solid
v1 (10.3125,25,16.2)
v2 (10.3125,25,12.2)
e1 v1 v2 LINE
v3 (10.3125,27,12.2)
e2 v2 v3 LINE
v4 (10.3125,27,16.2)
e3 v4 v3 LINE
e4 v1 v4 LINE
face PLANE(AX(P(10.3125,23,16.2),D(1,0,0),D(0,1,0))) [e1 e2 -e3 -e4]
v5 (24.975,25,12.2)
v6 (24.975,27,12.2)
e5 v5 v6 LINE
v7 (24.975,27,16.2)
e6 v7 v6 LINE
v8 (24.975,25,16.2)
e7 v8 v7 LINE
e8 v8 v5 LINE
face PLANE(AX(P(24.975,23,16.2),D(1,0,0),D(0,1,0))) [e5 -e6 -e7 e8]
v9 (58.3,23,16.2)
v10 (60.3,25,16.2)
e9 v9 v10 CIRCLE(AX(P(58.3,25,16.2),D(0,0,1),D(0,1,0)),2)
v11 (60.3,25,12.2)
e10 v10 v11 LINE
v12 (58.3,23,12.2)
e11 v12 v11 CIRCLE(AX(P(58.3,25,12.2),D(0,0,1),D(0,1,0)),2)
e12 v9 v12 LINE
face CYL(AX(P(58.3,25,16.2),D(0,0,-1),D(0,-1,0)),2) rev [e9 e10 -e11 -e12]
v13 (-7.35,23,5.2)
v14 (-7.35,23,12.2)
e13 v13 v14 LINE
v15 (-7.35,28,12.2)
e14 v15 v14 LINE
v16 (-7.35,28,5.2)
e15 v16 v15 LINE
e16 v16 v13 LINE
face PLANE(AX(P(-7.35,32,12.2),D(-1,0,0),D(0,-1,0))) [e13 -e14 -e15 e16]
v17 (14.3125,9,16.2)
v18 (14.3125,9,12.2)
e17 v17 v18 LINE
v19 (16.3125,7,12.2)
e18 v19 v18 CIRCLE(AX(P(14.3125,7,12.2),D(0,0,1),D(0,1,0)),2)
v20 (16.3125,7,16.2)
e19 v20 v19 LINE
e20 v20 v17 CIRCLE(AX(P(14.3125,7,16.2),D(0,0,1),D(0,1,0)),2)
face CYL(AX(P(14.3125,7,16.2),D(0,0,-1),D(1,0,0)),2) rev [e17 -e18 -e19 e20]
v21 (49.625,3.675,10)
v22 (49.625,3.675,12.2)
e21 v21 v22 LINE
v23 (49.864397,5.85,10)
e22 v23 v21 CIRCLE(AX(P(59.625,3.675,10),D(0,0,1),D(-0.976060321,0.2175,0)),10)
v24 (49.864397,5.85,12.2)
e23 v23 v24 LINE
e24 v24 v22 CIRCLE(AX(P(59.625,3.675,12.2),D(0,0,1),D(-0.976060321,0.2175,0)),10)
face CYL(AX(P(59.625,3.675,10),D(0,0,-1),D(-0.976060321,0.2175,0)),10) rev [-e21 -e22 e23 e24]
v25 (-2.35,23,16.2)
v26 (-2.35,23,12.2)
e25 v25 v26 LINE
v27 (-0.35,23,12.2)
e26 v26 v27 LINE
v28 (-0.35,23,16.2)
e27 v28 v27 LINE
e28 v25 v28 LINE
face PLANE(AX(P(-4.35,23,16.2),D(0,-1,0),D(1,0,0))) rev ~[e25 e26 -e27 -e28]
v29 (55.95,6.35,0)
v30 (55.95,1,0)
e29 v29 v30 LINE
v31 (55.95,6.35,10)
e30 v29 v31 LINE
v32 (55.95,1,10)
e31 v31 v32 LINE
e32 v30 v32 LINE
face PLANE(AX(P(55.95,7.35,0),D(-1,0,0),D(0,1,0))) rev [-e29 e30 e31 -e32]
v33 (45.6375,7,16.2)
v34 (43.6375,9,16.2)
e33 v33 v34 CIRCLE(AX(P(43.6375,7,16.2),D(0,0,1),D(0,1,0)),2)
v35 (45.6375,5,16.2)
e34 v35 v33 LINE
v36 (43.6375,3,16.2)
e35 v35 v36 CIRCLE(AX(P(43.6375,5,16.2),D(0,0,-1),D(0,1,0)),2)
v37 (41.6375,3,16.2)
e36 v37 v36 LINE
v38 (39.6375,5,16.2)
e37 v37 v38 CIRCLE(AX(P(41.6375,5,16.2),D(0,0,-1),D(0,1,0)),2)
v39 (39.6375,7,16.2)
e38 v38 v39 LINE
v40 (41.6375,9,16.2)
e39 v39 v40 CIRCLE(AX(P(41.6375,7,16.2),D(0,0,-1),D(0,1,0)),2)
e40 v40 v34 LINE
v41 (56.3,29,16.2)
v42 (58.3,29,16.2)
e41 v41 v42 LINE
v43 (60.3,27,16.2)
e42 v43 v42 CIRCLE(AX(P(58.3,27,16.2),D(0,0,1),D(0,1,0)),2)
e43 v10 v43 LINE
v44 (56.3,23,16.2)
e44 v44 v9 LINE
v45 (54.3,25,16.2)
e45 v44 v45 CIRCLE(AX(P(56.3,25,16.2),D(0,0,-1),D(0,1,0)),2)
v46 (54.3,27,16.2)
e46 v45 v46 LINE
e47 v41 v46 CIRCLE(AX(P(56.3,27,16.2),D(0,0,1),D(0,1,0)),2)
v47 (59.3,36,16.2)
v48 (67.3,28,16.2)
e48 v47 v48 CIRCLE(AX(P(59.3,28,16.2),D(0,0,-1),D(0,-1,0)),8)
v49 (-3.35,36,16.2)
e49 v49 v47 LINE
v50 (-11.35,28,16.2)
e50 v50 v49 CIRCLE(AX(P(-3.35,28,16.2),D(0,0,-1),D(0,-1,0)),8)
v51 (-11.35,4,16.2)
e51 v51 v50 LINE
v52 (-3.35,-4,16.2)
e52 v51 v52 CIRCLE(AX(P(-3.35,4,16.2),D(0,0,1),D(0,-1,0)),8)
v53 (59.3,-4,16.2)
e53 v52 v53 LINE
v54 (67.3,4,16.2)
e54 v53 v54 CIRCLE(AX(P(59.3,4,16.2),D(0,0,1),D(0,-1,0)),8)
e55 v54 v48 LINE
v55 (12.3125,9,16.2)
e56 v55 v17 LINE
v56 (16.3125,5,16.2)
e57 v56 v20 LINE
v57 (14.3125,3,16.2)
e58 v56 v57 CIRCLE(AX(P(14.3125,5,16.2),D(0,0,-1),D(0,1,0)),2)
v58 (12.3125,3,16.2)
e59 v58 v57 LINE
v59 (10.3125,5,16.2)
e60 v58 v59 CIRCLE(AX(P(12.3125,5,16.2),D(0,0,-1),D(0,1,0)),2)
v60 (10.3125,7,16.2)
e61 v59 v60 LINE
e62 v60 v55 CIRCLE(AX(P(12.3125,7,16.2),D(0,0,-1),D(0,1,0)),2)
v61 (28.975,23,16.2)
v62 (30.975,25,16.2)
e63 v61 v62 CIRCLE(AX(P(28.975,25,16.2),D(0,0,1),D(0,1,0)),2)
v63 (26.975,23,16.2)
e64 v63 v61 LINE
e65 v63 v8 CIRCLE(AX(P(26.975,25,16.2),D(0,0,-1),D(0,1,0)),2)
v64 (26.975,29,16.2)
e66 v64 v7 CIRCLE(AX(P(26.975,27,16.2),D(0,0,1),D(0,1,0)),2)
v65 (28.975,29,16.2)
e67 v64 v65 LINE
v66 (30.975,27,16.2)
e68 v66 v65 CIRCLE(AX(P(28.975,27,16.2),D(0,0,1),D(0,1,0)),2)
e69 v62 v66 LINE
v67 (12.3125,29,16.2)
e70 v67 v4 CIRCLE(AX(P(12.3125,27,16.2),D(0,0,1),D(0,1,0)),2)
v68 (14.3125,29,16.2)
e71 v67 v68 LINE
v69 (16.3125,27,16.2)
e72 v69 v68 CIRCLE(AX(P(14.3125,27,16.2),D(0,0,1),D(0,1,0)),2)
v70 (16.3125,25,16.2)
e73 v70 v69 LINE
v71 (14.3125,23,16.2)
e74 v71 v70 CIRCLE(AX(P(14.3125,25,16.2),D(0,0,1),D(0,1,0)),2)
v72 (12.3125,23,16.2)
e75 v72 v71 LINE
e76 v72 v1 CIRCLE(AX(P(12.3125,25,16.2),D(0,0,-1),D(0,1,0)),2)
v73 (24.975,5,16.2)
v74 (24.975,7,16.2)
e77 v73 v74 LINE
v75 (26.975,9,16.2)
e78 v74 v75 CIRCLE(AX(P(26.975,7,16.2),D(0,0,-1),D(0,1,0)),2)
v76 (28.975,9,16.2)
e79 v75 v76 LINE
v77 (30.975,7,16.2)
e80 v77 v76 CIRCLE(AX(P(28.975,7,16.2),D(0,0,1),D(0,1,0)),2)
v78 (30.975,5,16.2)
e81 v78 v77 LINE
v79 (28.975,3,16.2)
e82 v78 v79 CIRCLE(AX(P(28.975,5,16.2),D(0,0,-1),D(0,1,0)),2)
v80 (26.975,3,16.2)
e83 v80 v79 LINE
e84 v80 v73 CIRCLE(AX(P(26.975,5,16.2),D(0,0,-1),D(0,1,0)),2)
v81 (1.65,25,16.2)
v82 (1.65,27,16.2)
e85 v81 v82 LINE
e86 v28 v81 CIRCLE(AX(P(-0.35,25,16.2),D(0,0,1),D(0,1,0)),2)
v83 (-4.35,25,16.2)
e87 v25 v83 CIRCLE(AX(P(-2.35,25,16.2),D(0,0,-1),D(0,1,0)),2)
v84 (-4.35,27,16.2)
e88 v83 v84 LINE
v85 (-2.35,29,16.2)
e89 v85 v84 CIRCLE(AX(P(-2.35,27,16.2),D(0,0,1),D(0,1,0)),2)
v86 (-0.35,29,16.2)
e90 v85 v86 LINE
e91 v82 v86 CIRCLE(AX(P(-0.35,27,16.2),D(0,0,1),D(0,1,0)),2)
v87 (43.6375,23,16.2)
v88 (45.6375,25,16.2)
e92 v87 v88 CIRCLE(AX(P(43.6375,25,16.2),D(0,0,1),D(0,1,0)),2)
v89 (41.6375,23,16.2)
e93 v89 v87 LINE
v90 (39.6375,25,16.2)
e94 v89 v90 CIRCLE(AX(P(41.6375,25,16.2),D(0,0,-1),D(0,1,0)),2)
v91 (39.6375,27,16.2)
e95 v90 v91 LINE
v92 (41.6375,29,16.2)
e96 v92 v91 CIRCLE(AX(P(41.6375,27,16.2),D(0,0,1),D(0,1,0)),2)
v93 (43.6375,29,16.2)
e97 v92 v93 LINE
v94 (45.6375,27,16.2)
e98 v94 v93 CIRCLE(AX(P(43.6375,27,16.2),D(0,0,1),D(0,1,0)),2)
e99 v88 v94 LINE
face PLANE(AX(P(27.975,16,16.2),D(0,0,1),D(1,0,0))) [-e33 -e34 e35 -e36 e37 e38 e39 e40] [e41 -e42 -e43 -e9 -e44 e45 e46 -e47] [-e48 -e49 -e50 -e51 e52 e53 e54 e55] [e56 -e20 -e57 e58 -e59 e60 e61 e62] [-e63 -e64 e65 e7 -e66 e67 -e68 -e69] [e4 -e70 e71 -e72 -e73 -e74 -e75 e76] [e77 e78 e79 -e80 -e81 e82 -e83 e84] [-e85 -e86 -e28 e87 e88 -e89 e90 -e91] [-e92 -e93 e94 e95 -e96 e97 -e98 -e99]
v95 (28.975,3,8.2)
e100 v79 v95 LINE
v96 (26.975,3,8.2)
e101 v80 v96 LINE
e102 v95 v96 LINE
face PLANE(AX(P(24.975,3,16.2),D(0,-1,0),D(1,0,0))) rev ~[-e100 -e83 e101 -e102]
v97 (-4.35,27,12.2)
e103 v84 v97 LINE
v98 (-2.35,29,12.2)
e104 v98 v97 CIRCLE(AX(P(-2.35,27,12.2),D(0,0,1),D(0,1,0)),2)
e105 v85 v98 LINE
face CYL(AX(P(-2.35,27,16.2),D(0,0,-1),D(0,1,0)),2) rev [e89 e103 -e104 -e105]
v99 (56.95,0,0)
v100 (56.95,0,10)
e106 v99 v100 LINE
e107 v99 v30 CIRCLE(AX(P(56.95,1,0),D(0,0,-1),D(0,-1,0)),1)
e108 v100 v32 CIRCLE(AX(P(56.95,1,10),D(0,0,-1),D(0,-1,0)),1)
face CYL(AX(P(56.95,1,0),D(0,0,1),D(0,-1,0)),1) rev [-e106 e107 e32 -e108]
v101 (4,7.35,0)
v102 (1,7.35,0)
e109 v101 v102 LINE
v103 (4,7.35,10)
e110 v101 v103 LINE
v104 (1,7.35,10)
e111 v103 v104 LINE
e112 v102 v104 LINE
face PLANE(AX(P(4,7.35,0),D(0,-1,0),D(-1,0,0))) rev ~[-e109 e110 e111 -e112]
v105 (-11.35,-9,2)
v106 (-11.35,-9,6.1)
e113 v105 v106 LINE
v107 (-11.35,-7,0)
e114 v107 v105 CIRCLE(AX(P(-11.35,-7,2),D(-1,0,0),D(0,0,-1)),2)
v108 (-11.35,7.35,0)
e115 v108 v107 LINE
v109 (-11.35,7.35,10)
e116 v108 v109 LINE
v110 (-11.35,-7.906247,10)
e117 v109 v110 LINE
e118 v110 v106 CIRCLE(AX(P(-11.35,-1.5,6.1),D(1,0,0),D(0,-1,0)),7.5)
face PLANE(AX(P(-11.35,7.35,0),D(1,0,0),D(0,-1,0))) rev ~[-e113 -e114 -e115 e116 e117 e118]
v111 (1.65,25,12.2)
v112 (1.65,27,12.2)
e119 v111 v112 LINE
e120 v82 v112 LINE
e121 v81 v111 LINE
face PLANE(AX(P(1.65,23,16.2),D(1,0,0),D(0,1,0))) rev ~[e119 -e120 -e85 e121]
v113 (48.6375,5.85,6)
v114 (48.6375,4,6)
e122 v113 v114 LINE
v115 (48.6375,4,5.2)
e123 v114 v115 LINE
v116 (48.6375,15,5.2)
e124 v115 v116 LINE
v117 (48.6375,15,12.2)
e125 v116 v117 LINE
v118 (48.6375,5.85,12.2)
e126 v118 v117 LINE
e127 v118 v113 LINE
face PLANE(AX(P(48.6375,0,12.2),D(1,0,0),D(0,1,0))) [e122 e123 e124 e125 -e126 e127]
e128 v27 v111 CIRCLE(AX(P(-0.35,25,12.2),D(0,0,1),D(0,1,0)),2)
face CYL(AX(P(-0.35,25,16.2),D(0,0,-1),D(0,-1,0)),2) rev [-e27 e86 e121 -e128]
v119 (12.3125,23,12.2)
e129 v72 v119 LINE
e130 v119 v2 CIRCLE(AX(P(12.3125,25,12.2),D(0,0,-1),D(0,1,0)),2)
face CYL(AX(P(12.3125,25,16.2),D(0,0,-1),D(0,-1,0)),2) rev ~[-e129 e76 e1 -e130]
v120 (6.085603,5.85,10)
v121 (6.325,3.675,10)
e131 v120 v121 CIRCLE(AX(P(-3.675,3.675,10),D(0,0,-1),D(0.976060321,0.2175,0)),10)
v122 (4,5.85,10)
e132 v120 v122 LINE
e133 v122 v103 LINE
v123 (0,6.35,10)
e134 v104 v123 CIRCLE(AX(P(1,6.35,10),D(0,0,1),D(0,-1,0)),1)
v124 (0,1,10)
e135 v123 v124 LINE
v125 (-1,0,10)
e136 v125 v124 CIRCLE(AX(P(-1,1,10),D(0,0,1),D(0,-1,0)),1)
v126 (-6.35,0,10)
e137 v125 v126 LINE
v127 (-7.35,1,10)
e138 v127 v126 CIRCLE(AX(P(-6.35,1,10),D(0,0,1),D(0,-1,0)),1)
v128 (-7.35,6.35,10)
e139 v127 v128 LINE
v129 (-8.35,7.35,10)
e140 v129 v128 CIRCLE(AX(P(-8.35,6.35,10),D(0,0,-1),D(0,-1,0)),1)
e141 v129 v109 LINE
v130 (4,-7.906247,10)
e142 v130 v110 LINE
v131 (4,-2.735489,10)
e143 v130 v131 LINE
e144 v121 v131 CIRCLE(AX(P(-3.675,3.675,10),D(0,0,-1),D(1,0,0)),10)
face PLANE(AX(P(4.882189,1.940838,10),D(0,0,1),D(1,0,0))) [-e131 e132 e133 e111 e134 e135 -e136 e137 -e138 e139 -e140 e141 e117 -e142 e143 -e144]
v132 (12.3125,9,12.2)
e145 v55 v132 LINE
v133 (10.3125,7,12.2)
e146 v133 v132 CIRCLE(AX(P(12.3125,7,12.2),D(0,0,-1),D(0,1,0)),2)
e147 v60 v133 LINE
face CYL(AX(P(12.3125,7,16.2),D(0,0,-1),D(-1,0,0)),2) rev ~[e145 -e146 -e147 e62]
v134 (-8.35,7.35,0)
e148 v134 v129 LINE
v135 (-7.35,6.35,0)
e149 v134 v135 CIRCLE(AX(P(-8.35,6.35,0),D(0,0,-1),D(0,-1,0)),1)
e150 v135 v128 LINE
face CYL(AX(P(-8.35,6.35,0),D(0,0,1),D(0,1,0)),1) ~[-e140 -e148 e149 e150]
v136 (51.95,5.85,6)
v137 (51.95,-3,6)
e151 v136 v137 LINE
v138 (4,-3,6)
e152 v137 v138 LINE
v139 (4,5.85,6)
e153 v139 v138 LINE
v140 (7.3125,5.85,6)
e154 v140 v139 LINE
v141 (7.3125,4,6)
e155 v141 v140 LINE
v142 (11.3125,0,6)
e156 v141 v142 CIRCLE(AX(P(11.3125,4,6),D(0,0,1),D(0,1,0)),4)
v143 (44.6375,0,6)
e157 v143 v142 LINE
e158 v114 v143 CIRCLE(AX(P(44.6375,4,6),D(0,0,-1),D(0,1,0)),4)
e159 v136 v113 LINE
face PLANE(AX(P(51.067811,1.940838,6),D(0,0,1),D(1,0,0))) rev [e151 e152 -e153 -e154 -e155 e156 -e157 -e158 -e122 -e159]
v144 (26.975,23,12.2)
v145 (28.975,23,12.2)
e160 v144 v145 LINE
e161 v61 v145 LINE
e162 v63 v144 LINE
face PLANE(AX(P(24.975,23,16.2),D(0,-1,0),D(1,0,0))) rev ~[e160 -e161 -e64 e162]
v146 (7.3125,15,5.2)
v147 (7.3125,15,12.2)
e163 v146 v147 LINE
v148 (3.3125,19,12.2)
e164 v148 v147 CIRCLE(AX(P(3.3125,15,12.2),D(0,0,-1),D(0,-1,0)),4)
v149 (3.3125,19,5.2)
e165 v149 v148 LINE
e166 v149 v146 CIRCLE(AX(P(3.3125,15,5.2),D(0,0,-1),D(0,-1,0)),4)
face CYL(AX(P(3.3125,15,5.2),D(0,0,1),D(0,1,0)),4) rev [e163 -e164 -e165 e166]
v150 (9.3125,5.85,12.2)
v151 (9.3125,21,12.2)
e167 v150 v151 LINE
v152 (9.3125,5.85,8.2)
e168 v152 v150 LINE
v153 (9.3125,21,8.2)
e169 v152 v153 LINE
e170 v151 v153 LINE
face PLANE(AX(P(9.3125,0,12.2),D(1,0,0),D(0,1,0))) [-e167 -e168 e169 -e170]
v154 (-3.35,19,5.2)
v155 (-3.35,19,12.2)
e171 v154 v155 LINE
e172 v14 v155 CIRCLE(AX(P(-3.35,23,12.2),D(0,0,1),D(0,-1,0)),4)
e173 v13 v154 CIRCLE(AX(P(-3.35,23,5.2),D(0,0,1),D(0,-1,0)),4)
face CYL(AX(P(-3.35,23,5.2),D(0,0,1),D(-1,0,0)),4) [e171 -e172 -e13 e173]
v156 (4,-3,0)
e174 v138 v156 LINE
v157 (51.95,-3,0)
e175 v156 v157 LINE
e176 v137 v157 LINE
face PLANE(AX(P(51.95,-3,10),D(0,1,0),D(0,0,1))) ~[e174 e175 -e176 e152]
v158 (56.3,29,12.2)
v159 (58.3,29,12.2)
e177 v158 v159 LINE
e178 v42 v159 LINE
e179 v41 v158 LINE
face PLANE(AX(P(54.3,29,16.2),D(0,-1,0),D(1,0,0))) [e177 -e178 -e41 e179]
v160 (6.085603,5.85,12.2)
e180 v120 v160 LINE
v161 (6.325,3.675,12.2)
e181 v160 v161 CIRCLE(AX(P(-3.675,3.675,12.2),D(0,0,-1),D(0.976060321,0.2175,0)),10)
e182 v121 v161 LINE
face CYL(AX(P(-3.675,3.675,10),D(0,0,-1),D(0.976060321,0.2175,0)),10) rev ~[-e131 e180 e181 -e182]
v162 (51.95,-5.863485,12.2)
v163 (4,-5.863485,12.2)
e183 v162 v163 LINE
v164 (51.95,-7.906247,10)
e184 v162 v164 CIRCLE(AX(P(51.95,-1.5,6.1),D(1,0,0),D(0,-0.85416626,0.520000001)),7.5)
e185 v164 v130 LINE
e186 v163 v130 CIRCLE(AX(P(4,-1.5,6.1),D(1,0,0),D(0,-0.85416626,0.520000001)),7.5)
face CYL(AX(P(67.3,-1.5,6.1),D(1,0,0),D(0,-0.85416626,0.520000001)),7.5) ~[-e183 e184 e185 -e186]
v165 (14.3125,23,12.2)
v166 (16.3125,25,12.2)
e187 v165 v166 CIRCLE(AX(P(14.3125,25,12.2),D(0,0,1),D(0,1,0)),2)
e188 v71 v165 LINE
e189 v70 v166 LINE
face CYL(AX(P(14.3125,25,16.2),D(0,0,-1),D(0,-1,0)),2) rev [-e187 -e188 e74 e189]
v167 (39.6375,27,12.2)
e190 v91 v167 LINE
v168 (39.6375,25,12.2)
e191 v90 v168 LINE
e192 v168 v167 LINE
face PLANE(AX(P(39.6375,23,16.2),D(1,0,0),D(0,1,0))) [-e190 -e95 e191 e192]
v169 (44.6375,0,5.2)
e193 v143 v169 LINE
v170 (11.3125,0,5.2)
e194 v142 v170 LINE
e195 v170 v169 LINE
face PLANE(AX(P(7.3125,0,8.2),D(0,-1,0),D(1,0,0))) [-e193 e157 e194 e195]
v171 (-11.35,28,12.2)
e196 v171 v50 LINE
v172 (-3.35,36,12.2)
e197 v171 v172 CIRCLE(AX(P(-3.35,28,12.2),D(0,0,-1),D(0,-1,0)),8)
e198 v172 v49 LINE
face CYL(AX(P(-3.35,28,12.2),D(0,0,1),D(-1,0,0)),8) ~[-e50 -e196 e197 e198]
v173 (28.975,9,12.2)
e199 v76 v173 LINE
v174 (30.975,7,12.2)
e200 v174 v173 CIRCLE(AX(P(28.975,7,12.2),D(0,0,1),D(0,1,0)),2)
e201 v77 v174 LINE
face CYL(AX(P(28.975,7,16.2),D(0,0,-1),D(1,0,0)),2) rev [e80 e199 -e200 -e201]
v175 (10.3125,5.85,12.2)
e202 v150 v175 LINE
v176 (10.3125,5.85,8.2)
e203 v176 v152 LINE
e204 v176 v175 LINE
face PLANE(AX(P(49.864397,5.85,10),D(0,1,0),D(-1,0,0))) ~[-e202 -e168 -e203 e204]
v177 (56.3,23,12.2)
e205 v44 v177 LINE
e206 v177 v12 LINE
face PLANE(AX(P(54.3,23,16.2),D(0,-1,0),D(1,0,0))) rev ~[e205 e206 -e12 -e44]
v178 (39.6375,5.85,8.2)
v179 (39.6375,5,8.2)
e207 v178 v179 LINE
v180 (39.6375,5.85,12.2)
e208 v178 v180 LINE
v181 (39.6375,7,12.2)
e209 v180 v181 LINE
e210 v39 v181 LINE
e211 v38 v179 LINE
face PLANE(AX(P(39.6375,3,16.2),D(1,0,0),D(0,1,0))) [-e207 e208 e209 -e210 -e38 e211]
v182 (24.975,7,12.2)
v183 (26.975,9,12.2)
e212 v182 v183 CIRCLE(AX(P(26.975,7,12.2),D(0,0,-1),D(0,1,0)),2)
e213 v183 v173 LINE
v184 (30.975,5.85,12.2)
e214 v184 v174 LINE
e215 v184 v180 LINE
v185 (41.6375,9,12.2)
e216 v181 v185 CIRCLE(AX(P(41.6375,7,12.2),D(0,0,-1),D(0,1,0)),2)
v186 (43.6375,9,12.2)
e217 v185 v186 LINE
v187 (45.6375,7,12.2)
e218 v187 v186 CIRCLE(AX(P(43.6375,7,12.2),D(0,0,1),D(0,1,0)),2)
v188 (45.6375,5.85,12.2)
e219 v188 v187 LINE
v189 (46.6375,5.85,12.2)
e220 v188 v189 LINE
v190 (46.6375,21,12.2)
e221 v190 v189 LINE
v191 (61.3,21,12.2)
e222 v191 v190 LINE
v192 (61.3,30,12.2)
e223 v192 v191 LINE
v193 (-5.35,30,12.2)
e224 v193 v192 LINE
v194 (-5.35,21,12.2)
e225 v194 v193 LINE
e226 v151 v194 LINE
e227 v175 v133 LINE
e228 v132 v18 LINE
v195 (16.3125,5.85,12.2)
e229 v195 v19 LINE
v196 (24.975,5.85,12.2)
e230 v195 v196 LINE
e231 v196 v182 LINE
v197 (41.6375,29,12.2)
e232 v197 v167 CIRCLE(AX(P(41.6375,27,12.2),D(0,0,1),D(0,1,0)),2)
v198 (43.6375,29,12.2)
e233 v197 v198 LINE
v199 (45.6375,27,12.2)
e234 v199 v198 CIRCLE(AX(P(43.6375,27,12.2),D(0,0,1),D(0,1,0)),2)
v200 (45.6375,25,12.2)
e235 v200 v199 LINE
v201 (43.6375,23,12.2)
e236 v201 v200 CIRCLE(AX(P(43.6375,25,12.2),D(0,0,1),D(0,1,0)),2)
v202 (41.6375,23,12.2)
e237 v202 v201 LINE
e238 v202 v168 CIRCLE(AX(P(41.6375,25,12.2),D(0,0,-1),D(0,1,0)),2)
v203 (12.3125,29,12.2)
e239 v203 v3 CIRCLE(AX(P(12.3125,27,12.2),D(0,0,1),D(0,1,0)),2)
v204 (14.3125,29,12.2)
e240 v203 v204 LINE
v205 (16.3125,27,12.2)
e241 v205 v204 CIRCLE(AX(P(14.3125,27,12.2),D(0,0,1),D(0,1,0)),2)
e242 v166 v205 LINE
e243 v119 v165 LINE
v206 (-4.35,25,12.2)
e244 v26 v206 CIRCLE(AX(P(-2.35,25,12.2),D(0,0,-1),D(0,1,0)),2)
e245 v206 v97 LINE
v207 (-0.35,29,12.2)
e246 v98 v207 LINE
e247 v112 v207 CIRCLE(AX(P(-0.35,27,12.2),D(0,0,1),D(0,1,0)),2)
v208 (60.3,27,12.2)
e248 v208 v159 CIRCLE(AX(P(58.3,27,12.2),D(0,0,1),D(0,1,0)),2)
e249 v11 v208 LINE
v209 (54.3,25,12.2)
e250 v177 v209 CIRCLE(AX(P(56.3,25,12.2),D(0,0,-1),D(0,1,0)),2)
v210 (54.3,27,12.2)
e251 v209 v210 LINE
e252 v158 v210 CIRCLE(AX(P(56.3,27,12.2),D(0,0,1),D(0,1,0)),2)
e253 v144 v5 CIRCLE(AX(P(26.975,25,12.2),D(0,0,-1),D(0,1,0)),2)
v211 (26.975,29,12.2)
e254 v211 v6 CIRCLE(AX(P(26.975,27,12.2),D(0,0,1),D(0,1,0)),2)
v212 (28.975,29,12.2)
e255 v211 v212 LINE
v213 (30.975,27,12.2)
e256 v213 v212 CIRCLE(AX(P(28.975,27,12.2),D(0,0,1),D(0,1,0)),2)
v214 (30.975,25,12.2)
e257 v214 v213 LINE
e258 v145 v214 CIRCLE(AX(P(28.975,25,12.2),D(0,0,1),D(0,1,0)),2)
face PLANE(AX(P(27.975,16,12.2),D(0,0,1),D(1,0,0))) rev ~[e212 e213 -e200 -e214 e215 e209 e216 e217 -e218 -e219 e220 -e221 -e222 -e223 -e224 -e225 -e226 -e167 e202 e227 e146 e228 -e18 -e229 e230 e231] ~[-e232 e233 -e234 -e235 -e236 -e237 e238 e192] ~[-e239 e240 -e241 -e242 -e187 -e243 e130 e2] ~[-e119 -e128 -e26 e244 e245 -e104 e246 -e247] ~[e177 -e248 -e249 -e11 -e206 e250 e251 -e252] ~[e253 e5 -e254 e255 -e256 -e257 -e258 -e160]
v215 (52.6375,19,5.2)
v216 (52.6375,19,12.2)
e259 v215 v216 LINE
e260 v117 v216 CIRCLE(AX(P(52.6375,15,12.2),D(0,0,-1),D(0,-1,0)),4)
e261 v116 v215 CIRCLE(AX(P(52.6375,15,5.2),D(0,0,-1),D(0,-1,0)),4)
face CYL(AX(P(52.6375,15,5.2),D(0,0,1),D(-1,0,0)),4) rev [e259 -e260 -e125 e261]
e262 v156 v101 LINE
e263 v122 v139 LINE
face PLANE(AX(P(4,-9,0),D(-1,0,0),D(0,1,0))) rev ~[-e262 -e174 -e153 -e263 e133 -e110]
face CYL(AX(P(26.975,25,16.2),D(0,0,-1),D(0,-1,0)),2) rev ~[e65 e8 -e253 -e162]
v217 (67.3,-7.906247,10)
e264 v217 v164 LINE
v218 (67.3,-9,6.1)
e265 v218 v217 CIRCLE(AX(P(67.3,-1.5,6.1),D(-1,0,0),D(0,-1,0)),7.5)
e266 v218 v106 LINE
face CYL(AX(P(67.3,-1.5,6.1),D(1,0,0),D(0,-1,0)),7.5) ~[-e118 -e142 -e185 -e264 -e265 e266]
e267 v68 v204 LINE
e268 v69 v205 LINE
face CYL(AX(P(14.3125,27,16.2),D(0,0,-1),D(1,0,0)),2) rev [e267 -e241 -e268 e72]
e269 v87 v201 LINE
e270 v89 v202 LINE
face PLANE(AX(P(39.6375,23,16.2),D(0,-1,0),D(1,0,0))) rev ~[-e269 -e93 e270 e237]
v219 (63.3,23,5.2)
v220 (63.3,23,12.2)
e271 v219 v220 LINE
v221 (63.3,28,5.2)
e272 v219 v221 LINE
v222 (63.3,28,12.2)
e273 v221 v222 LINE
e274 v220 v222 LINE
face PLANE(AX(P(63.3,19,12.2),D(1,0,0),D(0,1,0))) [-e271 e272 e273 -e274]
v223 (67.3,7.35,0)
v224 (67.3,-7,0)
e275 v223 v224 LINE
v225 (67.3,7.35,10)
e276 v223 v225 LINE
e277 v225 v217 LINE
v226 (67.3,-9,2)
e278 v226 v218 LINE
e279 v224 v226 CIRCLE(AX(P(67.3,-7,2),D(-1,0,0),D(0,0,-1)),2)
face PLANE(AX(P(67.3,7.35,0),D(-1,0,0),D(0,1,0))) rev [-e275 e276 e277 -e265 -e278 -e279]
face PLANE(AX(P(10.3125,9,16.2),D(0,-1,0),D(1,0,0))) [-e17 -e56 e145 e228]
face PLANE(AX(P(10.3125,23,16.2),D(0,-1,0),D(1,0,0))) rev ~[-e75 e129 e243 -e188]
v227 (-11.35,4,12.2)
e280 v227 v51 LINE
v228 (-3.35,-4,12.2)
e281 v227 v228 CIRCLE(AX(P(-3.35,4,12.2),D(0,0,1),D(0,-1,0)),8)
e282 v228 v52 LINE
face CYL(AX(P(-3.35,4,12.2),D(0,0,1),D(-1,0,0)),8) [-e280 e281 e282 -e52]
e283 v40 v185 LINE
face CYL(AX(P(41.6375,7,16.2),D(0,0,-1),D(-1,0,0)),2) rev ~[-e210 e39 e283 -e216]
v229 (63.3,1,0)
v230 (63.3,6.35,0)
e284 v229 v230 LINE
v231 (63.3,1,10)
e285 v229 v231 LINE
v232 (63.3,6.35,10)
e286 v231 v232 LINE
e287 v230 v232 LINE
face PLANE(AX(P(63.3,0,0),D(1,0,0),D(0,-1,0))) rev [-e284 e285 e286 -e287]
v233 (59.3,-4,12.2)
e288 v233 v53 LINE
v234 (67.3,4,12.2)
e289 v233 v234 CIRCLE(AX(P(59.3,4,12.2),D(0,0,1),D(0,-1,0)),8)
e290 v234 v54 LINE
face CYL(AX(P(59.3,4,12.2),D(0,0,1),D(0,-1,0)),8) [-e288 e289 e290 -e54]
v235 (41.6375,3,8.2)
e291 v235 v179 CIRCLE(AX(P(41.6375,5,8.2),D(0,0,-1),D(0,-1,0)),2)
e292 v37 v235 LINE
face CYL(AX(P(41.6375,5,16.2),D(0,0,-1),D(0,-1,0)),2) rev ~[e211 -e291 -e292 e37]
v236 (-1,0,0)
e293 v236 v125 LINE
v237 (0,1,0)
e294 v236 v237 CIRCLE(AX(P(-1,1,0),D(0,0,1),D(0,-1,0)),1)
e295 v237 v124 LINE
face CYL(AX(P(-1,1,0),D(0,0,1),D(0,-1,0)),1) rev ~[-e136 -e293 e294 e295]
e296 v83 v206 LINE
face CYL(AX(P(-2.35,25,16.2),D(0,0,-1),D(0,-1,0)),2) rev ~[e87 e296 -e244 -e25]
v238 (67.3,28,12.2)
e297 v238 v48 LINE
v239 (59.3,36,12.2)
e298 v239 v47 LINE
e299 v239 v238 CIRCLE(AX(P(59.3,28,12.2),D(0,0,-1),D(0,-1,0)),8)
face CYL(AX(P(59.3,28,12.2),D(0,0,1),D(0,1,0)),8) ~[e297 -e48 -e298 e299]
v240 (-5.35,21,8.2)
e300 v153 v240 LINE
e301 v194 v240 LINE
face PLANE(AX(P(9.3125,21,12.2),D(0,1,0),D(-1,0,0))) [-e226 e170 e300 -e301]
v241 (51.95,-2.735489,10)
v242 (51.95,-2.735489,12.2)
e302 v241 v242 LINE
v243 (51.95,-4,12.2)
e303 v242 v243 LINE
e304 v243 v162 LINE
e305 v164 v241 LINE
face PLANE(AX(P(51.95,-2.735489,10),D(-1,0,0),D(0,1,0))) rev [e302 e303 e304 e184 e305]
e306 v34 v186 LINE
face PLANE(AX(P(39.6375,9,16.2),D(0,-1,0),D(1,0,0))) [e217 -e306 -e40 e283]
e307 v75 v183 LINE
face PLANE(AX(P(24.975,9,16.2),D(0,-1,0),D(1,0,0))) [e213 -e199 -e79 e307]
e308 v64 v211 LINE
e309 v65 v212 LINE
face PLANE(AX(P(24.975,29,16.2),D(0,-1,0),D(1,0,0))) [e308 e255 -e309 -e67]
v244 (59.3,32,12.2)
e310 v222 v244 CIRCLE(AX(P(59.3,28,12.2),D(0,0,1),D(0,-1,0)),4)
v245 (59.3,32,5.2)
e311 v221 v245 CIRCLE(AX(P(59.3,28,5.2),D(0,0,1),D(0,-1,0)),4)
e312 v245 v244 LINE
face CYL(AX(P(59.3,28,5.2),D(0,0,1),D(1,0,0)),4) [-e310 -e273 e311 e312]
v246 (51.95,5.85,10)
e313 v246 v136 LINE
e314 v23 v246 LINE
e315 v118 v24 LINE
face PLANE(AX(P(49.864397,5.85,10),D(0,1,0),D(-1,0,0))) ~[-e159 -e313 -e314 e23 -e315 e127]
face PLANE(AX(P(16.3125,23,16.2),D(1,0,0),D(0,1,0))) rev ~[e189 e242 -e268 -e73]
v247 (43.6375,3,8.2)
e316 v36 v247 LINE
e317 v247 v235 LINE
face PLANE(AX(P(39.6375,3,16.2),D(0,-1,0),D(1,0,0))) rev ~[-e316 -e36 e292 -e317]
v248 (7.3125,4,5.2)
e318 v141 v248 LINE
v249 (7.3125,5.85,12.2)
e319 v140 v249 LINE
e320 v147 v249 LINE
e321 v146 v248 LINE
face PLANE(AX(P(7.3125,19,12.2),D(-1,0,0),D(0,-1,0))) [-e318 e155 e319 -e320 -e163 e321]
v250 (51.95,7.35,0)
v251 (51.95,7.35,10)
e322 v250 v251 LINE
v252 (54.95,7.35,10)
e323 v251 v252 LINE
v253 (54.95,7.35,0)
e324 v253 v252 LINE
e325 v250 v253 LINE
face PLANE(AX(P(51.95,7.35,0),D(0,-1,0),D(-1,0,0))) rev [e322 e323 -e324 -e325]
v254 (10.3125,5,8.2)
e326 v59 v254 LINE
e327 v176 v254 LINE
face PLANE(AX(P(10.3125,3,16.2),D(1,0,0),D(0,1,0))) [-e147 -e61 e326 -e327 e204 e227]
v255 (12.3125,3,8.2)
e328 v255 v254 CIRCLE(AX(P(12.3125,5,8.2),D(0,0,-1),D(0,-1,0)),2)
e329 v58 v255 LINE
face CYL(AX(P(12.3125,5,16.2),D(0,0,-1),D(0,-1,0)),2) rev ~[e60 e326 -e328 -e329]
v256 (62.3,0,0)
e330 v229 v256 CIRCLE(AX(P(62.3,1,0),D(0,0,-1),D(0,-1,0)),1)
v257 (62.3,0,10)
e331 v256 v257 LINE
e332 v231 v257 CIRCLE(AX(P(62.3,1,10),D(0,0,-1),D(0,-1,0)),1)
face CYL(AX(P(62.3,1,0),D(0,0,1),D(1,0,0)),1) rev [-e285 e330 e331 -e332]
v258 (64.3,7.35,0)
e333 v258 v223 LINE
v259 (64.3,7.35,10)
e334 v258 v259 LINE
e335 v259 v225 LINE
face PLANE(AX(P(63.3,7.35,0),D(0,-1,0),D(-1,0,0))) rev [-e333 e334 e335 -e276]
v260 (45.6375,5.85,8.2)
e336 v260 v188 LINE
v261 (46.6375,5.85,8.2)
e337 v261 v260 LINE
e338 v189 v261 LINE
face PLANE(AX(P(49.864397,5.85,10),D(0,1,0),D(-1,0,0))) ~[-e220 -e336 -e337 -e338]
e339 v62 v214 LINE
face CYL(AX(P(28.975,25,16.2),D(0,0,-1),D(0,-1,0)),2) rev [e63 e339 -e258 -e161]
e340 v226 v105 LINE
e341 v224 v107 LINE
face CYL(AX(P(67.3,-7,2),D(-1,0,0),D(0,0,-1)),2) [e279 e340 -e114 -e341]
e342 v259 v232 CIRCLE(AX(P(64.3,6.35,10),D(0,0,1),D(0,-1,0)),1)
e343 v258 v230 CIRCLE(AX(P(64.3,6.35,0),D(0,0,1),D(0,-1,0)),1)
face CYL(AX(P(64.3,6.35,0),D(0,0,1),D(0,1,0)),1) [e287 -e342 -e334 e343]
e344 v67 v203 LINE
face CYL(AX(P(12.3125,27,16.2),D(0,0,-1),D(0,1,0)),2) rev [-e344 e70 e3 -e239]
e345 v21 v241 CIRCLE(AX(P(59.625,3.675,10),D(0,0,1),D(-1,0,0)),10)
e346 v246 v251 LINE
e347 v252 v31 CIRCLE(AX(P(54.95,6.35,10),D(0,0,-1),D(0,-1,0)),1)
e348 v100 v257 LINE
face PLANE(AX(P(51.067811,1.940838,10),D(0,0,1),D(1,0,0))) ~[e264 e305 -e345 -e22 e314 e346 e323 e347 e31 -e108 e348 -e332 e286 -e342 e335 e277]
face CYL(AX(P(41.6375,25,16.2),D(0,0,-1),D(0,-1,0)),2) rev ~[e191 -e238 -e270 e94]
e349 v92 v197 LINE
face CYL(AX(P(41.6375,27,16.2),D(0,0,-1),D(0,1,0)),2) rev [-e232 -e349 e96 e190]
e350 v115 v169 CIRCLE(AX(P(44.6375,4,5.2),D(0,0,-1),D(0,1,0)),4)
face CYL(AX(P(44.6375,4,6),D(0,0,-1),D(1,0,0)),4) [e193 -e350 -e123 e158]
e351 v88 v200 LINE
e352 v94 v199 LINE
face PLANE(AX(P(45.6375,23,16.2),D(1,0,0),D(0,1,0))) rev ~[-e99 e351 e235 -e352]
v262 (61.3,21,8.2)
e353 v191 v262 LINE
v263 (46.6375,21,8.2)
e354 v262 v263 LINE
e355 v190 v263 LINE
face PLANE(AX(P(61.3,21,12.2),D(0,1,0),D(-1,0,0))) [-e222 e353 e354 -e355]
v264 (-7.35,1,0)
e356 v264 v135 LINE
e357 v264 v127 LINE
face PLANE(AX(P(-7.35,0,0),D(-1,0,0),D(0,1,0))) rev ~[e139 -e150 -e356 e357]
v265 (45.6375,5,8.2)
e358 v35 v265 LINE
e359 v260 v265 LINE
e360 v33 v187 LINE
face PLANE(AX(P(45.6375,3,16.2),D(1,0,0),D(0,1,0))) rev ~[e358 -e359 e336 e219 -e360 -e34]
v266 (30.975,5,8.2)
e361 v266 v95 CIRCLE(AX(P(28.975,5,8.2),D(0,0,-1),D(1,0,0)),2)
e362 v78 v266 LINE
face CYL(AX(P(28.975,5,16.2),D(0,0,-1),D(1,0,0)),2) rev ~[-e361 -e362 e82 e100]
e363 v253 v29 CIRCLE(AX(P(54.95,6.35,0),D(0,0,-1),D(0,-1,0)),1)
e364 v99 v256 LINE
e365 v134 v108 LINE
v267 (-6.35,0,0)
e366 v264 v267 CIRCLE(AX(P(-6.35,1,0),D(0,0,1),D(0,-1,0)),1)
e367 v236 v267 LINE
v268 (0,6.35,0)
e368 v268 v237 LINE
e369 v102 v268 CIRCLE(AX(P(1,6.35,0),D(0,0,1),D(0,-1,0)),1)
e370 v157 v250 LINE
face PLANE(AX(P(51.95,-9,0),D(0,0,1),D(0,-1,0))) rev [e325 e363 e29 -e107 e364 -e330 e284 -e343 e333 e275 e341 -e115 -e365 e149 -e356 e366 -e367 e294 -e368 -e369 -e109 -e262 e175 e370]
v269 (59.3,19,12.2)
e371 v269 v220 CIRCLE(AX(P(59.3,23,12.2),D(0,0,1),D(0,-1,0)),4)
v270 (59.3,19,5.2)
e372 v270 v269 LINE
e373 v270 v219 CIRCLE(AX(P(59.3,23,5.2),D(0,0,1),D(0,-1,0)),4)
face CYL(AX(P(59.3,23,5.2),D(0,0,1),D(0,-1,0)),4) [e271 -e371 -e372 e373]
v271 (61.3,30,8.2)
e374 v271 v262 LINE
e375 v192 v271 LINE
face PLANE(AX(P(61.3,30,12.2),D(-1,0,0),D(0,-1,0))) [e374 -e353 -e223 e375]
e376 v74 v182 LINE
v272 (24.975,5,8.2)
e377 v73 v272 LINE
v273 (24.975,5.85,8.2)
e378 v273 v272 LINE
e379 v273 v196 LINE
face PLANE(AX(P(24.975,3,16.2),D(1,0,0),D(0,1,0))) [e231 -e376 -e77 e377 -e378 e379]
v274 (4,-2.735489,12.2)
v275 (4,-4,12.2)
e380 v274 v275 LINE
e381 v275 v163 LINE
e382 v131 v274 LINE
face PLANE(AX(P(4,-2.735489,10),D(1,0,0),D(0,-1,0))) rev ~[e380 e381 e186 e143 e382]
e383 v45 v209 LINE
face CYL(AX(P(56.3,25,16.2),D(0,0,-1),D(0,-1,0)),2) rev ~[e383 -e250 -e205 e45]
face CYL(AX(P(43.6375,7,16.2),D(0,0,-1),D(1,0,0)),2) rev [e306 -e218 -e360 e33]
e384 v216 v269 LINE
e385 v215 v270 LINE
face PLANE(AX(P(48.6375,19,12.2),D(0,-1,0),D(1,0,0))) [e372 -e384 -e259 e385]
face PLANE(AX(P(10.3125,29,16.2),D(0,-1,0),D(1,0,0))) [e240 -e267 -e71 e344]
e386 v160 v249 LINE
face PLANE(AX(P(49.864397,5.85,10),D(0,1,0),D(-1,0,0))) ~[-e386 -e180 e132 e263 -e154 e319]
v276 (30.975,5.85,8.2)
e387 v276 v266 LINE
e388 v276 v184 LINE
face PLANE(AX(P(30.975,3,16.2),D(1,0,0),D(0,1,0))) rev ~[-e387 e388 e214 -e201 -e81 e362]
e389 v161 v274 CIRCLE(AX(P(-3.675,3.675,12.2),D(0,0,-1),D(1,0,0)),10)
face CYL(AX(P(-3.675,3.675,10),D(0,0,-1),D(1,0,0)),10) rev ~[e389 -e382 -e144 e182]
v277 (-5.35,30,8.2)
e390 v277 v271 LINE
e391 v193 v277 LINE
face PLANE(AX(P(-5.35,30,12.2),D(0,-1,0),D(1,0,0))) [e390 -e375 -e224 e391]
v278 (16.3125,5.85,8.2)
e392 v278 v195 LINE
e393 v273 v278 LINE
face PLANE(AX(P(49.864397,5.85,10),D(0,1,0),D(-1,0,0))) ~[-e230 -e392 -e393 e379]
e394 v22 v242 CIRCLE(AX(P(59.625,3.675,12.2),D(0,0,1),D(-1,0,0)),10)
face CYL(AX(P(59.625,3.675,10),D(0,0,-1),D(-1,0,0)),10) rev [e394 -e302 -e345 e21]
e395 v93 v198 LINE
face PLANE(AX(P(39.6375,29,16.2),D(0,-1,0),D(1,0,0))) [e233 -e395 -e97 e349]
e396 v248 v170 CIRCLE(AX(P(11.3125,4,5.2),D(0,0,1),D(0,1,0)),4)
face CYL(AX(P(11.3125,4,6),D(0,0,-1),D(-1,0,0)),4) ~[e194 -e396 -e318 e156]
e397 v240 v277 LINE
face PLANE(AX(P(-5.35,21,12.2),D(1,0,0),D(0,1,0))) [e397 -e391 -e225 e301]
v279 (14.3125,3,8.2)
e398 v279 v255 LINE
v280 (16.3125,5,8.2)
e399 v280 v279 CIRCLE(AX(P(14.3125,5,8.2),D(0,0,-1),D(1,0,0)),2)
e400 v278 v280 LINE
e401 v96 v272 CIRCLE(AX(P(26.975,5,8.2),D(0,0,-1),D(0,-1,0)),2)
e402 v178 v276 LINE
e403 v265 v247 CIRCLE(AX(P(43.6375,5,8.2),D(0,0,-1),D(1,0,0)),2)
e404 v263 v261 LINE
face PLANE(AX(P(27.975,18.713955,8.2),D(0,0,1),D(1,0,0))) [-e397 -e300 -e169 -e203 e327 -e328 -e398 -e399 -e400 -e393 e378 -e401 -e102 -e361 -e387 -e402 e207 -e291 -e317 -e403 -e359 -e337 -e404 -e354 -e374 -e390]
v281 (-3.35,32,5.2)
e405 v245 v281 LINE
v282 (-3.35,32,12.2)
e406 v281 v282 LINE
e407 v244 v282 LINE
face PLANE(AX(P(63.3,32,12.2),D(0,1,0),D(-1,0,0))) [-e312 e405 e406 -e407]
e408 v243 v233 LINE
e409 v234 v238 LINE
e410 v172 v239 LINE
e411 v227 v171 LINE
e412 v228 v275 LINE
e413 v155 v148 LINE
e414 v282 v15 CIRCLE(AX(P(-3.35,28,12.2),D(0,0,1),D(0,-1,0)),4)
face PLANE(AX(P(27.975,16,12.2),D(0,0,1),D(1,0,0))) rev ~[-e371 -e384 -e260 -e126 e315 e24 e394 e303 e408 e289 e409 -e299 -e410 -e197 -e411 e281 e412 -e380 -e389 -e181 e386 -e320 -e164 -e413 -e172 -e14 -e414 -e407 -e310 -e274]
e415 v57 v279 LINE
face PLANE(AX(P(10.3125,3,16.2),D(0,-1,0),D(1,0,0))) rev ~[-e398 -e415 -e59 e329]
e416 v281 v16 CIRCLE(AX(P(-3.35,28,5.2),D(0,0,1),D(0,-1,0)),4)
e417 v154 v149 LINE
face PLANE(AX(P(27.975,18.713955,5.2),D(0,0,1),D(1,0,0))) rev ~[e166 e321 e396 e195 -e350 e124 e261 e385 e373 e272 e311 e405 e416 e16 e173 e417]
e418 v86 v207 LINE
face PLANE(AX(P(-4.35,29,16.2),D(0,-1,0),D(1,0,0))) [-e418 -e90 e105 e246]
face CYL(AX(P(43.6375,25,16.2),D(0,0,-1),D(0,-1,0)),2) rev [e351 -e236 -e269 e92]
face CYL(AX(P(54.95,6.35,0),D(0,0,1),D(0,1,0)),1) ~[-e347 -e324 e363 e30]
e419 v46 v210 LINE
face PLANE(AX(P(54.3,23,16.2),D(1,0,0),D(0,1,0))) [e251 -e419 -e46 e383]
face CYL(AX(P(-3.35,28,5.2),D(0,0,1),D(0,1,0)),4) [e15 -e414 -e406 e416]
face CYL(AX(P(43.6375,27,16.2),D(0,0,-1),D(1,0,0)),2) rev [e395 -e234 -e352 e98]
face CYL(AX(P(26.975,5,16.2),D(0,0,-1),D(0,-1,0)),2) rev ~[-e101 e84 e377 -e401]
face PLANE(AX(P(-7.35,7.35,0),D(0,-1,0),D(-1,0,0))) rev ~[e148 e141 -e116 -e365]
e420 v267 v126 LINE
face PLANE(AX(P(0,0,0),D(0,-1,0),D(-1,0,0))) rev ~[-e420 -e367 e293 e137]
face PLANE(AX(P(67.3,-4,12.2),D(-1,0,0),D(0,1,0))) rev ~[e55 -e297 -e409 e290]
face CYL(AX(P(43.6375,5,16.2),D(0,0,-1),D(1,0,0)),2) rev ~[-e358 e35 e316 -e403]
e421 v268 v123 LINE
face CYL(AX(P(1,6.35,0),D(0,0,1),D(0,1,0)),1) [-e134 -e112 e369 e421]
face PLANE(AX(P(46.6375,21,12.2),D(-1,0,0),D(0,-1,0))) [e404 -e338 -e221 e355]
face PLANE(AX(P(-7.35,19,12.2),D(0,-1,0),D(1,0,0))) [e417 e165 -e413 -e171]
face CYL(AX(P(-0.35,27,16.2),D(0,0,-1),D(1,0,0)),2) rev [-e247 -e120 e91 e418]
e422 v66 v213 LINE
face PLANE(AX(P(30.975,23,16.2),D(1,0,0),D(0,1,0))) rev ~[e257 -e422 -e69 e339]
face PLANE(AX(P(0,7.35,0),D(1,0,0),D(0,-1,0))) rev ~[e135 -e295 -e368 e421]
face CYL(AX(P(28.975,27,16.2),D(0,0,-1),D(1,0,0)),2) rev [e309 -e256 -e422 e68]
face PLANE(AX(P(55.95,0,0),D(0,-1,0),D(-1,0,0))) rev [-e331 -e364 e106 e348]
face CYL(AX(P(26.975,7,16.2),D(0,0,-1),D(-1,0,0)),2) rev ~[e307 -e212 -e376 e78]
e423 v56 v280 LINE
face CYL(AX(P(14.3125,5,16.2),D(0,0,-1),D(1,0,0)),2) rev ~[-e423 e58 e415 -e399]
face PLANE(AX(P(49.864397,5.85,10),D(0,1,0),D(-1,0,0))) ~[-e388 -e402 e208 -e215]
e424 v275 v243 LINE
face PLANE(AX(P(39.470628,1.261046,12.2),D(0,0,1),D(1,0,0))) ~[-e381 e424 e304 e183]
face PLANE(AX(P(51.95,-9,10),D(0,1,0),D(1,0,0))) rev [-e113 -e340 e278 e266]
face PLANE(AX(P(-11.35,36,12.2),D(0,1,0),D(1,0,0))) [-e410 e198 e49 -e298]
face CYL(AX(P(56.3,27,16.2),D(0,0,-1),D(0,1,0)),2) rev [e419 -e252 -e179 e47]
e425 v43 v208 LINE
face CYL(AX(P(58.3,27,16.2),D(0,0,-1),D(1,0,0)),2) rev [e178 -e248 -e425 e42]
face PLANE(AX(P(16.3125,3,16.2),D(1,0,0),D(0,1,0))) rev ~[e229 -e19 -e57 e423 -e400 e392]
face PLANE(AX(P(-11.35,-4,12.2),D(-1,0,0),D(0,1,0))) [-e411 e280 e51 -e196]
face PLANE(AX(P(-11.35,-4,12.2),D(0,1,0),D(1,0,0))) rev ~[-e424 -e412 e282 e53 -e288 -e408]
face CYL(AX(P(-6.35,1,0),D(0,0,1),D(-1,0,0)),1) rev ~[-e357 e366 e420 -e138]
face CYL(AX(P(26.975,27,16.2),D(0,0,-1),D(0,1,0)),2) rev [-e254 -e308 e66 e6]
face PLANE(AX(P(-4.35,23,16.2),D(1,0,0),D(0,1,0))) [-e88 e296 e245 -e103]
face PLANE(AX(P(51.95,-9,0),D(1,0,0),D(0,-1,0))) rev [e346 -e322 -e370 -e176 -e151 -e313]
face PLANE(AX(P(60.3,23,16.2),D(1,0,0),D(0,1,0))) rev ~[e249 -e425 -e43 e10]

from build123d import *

# Parameters (mm, degrees)
BOSS_EXTRUDE1_DEPTH      = 10
SKETCH2_W                = 10
SKETCH2_H                = 6
BOSS_EXTRUDE2_DEPTH      = 23.975
SKETCH3_W                = 23.975
SKETCH3_H                = 6
BOSS_EXTRUDE4_DEPTH      = 2.2
BOSS_EXTRUDE4_DEPTH_BACK = 4
BOSS_EXTRUDE5_DEPTH      = 4
SKETCH5_W                = 78.65
SKETCH5_H                = 40
BOSS_EXTRUDE6_DEPTH      = 4
CUT_EXTRUDE1_DEPTH       = 79.65
FILLET1_R                = 2
SKETCH7_W                = 6
SKETCH7_H                = 6
CUT_EXTRUDE2_DEPTH       = 45
FILLET2_R                = 2
FILLET3_R                = 8
BOSS_EXTRUDE7_START      = 4
BOSS_EXTRUDE7_DEPTH      = 3
EXTRUDE_THIN1_DEPTH      = 4
FILLET4_R                = 4
FILLET5_R                = 1


with BuildPart() as part:
    # Sketch1 → Boss-Extrude1 (new body)
    with BuildSketch(Plane.XY):
        Polygon((0, 0), (-7.35, 0), (-7.35, 7.35), (-11.35, 7.35), (-11.35, -9), (4, -9), (4, 7.35), (0, 7.35), align=None)
    extrude(amount=BOSS_EXTRUDE1_DEPTH)

    # Sketch2 → Boss-Extrude2 (add)
    with BuildSketch(Plane(origin=(4, 0, 0), x_dir=(0, 0, -1), z_dir=(1, 0, 0))):
        with Locations((-5, -6)):
            Rectangle(SKETCH2_W, SKETCH2_H)
    extrude(amount=BOSS_EXTRUDE2_DEPTH)

    # Sketch3 → Boss-Extrude4 (add, two sides)
    with BuildSketch(Plane.XY.offset(10)) as boss_extrude4_sk:
        with BuildLine():
            Line((4, -2.735489451), (4, -3))
            Line((4, -3), (27.975, -3))
            Line((27.975, -3), (27.975, 5.85))
            Line((27.975, 5.85), (6.085603209, 5.85))
            ThreePointArc((6.085603209, 5.85), (6.264970626, 4.769067619), (6.325, 3.675))
            ThreePointArc((6.325, 3.675), (5.725797838, 0.265454576), (4, -2.735489451))
        make_face()
        with Locations((15.9875, -6)):
            Rectangle(SKETCH3_W, SKETCH3_H)
    extrude(amount=BOSS_EXTRUDE4_DEPTH)
    extrude(boss_extrude4_sk.sketch, amount=-BOSS_EXTRUDE4_DEPTH_BACK)

    # Sketch3<3> → Boss-Extrude5 (add)
    with BuildSketch(Plane.XY.offset(10)):
        with BuildLine():
            Line((4, 5.85), (4, -2.735489451))
            ThreePointArc((4, -2.735489451), (5.725797838, 0.265454576), (6.325, 3.675))
            ThreePointArc((6.325, 3.675), (6.264970626, 4.769067619), (6.085603209, 5.85))
            Line((6.085603209, 5.85), (4, 5.85))
        make_face()
    extrude(amount=-BOSS_EXTRUDE5_DEPTH)

    # Mirror1: part across plane


with BuildPart() as part_1:
    add(part.part)
    add(part.part.mirror(Plane.ZY.offset(-27.975)))

    # Sketch5 → Boss-Extrude6 (add)
    with BuildSketch(Plane.XY.offset(12.2)):
        with Locations((27.975, 16)):
            Rectangle(SKETCH5_W, SKETCH5_H)
    extrude(amount=BOSS_EXTRUDE6_DEPTH)

    # Sketch6 → Cut-Extrude1 (cut, through all)
    with BuildSketch(Plane(origin=(67.3, 0, 0), x_dir=(0, 0, -1), z_dir=(1, 0, 0))):
        with BuildLine():
            Line((-12.2, -9), (-10, -9))
            Line((-10, -9), (-10, -7.906246951))
            ThreePointArc((-10, -7.906246951), (-11.20325575, -6.996069572), (-12.2, -5.863484846))
            Line((-12.2, -5.863484846), (-12.2, -9))
        make_face()
        with BuildLine():
            Line((-10, -9), (-6.1, -9))
            ThreePointArc((-6.1, -9), (-8.125234291, -8.721386714), (-10, -7.906246951))
            Line((-10, -7.906246951), (-10, -9))
        make_face()
    extrude(amount=-CUT_EXTRUDE1_DEPTH, mode=Mode.SUBTRACT)

    # Fillet1
    fillet1_edges = [part_1.edges().sort_by_distance(p)[0] for p in [
        (27.975, -9, 0),
    ]]
    fillet(fillet1_edges, radius=FILLET1_R)

    # Sketch7 → Cut-Extrude2 (cut)
    with BuildSketch(Plane.XY.offset(16.2)):
        with Locations((-1.35, 26)):
            Rectangle(SKETCH7_W, SKETCH7_H)
        with Locations((13.3125, 26)):
            Rectangle(SKETCH7_W, SKETCH7_H)
        with Locations((27.975, 26)):
            Rectangle(SKETCH7_W, SKETCH7_H)
        with Locations((42.6375, 26)):
            Rectangle(SKETCH7_W, SKETCH7_H)
        with Locations((13.3125, 6)):
            Rectangle(SKETCH7_W, SKETCH7_H)
        with Locations((27.975, 6)):
            Rectangle(SKETCH7_W, SKETCH7_H)
        with Locations((42.6375, 6)):
            Rectangle(SKETCH7_W, SKETCH7_H)
        with Locations((57.3, 26)):
            Rectangle(SKETCH7_W, SKETCH7_H)
    extrude(amount=-CUT_EXTRUDE2_DEPTH, mode=Mode.SUBTRACT)

    # Fillet2
    fillet2_edges = [part_1.edges().sort_by_distance(p)[0] for p in [
        (-4.35, 23, 14.2),
        (-4.35, 29, 14.2),
        (1.65, 29, 14.2),
        (1.65, 23, 14.2),
        (54.3, 29, 14.2),
        (60.3, 29, 14.2),
        (60.3, 23, 14.2),
        (54.3, 23, 14.2),
        (45.6375, 9, 14.2),
        (45.6375, 3, 11.1),
        (39.6375, 3, 11.1),
        (39.6375, 9, 14.2),
        (30.975, 9, 14.2),
        (30.975, 3, 11.1),
        (24.975, 3, 11.1),
        (24.975, 9, 14.2),
        (10.3125, 29, 14.2),
        (16.3125, 29, 14.2),
        (16.3125, 23, 14.2),
        (10.3125, 23, 14.2),
        (24.975, 29, 14.2),
        (30.975, 29, 14.2),
        (30.975, 23, 14.2),
        (24.975, 23, 14.2),
        (39.6375, 29, 14.2),
        (45.6375, 29, 14.2),
        (45.6375, 23, 14.2),
        (39.6375, 23, 14.2),
        (16.3125, 9, 14.2),
        (16.3125, 3, 11.1),
        (10.3125, 3, 11.1),
        (10.3125, 9, 14.2),
    ]]
    fillet(fillet2_edges, radius=FILLET2_R)

    # Fillet3
    fillet3_edges = [part_1.edges().sort_by_distance(p)[0] for p in [
        (-11.35, 36, 14.2),
        (-11.35, -4, 14.2),
        (67.3, -4, 14.2),
        (67.3, 36, 14.2),
    ]]
    fillet(fillet3_edges, radius=FILLET3_R)

    # Sketch8 → Boss-Extrude7 (add)
    with BuildSketch(Plane(origin=(0, 0, 12.2), x_dir=(-1, 0, 0), z_dir=(0, 0, -1)).offset(BOSS_EXTRUDE7_START)):
        Polygon((-63.3, 32), (7.35, 32), (7.35, 19), (-7.3125, 19), (-7.3125, 0), (-48.6375, 0), (-48.6375, 19), (-63.3, 19), align=None)
    extrude(amount=BOSS_EXTRUDE7_DEPTH)

    # Sketch8<2> → Extrude-Thin1 (add)
    with BuildSketch(Plane(origin=(0, 0, 12.2), x_dir=(-1, 0, 0), z_dir=(0, 0, -1))):
        Polygon((-48.6375, 0), (-48.6375, 19), (-63.3, 19), (-63.3, 32), (7.35, 32), (7.35, 19), (-7.3125, 19), (-7.3125, 0), (-9.3125, 0), (-9.3125, 21), (5.35, 21), (5.35, 30), (-61.3, 30), (-61.3, 21), (-46.6375, 21), (-46.6375, 0), align=None)
    extrude(amount=EXTRUDE_THIN1_DEPTH)

    # Fillet4
    fillet4_edges = [part_1.edges().sort_by_distance(p)[0] for p in [
        (48.6375, 19, 8.7),
        (48.6375, 0, 5.6),
        (7.3125, 0, 5.6),
        (63.3, 32, 8.7),
        (63.3, 19, 8.7),
        (7.3125, 19, 8.7),
        (-7.35, 19, 8.7),
        (-7.35, 32, 8.7),
    ]]
    fillet(fillet4_edges, radius=FILLET4_R)

    # Fillet5
    fillet5_edges = [part_1.edges().sort_by_distance(p)[0] for p in [
        (0, 7.35, 5),
        (0, 0, 5),
        (-7.35, 0, 5),
        (-7.35, 7.35, 5),
        (55.95, 7.35, 5),
        (55.95, 0, 5),
        (63.3, 0, 5),
        (63.3, 7.35, 5),
    ]]
    fillet(fillet5_edges, radius=FILLET5_R)


solid = part_1.part
